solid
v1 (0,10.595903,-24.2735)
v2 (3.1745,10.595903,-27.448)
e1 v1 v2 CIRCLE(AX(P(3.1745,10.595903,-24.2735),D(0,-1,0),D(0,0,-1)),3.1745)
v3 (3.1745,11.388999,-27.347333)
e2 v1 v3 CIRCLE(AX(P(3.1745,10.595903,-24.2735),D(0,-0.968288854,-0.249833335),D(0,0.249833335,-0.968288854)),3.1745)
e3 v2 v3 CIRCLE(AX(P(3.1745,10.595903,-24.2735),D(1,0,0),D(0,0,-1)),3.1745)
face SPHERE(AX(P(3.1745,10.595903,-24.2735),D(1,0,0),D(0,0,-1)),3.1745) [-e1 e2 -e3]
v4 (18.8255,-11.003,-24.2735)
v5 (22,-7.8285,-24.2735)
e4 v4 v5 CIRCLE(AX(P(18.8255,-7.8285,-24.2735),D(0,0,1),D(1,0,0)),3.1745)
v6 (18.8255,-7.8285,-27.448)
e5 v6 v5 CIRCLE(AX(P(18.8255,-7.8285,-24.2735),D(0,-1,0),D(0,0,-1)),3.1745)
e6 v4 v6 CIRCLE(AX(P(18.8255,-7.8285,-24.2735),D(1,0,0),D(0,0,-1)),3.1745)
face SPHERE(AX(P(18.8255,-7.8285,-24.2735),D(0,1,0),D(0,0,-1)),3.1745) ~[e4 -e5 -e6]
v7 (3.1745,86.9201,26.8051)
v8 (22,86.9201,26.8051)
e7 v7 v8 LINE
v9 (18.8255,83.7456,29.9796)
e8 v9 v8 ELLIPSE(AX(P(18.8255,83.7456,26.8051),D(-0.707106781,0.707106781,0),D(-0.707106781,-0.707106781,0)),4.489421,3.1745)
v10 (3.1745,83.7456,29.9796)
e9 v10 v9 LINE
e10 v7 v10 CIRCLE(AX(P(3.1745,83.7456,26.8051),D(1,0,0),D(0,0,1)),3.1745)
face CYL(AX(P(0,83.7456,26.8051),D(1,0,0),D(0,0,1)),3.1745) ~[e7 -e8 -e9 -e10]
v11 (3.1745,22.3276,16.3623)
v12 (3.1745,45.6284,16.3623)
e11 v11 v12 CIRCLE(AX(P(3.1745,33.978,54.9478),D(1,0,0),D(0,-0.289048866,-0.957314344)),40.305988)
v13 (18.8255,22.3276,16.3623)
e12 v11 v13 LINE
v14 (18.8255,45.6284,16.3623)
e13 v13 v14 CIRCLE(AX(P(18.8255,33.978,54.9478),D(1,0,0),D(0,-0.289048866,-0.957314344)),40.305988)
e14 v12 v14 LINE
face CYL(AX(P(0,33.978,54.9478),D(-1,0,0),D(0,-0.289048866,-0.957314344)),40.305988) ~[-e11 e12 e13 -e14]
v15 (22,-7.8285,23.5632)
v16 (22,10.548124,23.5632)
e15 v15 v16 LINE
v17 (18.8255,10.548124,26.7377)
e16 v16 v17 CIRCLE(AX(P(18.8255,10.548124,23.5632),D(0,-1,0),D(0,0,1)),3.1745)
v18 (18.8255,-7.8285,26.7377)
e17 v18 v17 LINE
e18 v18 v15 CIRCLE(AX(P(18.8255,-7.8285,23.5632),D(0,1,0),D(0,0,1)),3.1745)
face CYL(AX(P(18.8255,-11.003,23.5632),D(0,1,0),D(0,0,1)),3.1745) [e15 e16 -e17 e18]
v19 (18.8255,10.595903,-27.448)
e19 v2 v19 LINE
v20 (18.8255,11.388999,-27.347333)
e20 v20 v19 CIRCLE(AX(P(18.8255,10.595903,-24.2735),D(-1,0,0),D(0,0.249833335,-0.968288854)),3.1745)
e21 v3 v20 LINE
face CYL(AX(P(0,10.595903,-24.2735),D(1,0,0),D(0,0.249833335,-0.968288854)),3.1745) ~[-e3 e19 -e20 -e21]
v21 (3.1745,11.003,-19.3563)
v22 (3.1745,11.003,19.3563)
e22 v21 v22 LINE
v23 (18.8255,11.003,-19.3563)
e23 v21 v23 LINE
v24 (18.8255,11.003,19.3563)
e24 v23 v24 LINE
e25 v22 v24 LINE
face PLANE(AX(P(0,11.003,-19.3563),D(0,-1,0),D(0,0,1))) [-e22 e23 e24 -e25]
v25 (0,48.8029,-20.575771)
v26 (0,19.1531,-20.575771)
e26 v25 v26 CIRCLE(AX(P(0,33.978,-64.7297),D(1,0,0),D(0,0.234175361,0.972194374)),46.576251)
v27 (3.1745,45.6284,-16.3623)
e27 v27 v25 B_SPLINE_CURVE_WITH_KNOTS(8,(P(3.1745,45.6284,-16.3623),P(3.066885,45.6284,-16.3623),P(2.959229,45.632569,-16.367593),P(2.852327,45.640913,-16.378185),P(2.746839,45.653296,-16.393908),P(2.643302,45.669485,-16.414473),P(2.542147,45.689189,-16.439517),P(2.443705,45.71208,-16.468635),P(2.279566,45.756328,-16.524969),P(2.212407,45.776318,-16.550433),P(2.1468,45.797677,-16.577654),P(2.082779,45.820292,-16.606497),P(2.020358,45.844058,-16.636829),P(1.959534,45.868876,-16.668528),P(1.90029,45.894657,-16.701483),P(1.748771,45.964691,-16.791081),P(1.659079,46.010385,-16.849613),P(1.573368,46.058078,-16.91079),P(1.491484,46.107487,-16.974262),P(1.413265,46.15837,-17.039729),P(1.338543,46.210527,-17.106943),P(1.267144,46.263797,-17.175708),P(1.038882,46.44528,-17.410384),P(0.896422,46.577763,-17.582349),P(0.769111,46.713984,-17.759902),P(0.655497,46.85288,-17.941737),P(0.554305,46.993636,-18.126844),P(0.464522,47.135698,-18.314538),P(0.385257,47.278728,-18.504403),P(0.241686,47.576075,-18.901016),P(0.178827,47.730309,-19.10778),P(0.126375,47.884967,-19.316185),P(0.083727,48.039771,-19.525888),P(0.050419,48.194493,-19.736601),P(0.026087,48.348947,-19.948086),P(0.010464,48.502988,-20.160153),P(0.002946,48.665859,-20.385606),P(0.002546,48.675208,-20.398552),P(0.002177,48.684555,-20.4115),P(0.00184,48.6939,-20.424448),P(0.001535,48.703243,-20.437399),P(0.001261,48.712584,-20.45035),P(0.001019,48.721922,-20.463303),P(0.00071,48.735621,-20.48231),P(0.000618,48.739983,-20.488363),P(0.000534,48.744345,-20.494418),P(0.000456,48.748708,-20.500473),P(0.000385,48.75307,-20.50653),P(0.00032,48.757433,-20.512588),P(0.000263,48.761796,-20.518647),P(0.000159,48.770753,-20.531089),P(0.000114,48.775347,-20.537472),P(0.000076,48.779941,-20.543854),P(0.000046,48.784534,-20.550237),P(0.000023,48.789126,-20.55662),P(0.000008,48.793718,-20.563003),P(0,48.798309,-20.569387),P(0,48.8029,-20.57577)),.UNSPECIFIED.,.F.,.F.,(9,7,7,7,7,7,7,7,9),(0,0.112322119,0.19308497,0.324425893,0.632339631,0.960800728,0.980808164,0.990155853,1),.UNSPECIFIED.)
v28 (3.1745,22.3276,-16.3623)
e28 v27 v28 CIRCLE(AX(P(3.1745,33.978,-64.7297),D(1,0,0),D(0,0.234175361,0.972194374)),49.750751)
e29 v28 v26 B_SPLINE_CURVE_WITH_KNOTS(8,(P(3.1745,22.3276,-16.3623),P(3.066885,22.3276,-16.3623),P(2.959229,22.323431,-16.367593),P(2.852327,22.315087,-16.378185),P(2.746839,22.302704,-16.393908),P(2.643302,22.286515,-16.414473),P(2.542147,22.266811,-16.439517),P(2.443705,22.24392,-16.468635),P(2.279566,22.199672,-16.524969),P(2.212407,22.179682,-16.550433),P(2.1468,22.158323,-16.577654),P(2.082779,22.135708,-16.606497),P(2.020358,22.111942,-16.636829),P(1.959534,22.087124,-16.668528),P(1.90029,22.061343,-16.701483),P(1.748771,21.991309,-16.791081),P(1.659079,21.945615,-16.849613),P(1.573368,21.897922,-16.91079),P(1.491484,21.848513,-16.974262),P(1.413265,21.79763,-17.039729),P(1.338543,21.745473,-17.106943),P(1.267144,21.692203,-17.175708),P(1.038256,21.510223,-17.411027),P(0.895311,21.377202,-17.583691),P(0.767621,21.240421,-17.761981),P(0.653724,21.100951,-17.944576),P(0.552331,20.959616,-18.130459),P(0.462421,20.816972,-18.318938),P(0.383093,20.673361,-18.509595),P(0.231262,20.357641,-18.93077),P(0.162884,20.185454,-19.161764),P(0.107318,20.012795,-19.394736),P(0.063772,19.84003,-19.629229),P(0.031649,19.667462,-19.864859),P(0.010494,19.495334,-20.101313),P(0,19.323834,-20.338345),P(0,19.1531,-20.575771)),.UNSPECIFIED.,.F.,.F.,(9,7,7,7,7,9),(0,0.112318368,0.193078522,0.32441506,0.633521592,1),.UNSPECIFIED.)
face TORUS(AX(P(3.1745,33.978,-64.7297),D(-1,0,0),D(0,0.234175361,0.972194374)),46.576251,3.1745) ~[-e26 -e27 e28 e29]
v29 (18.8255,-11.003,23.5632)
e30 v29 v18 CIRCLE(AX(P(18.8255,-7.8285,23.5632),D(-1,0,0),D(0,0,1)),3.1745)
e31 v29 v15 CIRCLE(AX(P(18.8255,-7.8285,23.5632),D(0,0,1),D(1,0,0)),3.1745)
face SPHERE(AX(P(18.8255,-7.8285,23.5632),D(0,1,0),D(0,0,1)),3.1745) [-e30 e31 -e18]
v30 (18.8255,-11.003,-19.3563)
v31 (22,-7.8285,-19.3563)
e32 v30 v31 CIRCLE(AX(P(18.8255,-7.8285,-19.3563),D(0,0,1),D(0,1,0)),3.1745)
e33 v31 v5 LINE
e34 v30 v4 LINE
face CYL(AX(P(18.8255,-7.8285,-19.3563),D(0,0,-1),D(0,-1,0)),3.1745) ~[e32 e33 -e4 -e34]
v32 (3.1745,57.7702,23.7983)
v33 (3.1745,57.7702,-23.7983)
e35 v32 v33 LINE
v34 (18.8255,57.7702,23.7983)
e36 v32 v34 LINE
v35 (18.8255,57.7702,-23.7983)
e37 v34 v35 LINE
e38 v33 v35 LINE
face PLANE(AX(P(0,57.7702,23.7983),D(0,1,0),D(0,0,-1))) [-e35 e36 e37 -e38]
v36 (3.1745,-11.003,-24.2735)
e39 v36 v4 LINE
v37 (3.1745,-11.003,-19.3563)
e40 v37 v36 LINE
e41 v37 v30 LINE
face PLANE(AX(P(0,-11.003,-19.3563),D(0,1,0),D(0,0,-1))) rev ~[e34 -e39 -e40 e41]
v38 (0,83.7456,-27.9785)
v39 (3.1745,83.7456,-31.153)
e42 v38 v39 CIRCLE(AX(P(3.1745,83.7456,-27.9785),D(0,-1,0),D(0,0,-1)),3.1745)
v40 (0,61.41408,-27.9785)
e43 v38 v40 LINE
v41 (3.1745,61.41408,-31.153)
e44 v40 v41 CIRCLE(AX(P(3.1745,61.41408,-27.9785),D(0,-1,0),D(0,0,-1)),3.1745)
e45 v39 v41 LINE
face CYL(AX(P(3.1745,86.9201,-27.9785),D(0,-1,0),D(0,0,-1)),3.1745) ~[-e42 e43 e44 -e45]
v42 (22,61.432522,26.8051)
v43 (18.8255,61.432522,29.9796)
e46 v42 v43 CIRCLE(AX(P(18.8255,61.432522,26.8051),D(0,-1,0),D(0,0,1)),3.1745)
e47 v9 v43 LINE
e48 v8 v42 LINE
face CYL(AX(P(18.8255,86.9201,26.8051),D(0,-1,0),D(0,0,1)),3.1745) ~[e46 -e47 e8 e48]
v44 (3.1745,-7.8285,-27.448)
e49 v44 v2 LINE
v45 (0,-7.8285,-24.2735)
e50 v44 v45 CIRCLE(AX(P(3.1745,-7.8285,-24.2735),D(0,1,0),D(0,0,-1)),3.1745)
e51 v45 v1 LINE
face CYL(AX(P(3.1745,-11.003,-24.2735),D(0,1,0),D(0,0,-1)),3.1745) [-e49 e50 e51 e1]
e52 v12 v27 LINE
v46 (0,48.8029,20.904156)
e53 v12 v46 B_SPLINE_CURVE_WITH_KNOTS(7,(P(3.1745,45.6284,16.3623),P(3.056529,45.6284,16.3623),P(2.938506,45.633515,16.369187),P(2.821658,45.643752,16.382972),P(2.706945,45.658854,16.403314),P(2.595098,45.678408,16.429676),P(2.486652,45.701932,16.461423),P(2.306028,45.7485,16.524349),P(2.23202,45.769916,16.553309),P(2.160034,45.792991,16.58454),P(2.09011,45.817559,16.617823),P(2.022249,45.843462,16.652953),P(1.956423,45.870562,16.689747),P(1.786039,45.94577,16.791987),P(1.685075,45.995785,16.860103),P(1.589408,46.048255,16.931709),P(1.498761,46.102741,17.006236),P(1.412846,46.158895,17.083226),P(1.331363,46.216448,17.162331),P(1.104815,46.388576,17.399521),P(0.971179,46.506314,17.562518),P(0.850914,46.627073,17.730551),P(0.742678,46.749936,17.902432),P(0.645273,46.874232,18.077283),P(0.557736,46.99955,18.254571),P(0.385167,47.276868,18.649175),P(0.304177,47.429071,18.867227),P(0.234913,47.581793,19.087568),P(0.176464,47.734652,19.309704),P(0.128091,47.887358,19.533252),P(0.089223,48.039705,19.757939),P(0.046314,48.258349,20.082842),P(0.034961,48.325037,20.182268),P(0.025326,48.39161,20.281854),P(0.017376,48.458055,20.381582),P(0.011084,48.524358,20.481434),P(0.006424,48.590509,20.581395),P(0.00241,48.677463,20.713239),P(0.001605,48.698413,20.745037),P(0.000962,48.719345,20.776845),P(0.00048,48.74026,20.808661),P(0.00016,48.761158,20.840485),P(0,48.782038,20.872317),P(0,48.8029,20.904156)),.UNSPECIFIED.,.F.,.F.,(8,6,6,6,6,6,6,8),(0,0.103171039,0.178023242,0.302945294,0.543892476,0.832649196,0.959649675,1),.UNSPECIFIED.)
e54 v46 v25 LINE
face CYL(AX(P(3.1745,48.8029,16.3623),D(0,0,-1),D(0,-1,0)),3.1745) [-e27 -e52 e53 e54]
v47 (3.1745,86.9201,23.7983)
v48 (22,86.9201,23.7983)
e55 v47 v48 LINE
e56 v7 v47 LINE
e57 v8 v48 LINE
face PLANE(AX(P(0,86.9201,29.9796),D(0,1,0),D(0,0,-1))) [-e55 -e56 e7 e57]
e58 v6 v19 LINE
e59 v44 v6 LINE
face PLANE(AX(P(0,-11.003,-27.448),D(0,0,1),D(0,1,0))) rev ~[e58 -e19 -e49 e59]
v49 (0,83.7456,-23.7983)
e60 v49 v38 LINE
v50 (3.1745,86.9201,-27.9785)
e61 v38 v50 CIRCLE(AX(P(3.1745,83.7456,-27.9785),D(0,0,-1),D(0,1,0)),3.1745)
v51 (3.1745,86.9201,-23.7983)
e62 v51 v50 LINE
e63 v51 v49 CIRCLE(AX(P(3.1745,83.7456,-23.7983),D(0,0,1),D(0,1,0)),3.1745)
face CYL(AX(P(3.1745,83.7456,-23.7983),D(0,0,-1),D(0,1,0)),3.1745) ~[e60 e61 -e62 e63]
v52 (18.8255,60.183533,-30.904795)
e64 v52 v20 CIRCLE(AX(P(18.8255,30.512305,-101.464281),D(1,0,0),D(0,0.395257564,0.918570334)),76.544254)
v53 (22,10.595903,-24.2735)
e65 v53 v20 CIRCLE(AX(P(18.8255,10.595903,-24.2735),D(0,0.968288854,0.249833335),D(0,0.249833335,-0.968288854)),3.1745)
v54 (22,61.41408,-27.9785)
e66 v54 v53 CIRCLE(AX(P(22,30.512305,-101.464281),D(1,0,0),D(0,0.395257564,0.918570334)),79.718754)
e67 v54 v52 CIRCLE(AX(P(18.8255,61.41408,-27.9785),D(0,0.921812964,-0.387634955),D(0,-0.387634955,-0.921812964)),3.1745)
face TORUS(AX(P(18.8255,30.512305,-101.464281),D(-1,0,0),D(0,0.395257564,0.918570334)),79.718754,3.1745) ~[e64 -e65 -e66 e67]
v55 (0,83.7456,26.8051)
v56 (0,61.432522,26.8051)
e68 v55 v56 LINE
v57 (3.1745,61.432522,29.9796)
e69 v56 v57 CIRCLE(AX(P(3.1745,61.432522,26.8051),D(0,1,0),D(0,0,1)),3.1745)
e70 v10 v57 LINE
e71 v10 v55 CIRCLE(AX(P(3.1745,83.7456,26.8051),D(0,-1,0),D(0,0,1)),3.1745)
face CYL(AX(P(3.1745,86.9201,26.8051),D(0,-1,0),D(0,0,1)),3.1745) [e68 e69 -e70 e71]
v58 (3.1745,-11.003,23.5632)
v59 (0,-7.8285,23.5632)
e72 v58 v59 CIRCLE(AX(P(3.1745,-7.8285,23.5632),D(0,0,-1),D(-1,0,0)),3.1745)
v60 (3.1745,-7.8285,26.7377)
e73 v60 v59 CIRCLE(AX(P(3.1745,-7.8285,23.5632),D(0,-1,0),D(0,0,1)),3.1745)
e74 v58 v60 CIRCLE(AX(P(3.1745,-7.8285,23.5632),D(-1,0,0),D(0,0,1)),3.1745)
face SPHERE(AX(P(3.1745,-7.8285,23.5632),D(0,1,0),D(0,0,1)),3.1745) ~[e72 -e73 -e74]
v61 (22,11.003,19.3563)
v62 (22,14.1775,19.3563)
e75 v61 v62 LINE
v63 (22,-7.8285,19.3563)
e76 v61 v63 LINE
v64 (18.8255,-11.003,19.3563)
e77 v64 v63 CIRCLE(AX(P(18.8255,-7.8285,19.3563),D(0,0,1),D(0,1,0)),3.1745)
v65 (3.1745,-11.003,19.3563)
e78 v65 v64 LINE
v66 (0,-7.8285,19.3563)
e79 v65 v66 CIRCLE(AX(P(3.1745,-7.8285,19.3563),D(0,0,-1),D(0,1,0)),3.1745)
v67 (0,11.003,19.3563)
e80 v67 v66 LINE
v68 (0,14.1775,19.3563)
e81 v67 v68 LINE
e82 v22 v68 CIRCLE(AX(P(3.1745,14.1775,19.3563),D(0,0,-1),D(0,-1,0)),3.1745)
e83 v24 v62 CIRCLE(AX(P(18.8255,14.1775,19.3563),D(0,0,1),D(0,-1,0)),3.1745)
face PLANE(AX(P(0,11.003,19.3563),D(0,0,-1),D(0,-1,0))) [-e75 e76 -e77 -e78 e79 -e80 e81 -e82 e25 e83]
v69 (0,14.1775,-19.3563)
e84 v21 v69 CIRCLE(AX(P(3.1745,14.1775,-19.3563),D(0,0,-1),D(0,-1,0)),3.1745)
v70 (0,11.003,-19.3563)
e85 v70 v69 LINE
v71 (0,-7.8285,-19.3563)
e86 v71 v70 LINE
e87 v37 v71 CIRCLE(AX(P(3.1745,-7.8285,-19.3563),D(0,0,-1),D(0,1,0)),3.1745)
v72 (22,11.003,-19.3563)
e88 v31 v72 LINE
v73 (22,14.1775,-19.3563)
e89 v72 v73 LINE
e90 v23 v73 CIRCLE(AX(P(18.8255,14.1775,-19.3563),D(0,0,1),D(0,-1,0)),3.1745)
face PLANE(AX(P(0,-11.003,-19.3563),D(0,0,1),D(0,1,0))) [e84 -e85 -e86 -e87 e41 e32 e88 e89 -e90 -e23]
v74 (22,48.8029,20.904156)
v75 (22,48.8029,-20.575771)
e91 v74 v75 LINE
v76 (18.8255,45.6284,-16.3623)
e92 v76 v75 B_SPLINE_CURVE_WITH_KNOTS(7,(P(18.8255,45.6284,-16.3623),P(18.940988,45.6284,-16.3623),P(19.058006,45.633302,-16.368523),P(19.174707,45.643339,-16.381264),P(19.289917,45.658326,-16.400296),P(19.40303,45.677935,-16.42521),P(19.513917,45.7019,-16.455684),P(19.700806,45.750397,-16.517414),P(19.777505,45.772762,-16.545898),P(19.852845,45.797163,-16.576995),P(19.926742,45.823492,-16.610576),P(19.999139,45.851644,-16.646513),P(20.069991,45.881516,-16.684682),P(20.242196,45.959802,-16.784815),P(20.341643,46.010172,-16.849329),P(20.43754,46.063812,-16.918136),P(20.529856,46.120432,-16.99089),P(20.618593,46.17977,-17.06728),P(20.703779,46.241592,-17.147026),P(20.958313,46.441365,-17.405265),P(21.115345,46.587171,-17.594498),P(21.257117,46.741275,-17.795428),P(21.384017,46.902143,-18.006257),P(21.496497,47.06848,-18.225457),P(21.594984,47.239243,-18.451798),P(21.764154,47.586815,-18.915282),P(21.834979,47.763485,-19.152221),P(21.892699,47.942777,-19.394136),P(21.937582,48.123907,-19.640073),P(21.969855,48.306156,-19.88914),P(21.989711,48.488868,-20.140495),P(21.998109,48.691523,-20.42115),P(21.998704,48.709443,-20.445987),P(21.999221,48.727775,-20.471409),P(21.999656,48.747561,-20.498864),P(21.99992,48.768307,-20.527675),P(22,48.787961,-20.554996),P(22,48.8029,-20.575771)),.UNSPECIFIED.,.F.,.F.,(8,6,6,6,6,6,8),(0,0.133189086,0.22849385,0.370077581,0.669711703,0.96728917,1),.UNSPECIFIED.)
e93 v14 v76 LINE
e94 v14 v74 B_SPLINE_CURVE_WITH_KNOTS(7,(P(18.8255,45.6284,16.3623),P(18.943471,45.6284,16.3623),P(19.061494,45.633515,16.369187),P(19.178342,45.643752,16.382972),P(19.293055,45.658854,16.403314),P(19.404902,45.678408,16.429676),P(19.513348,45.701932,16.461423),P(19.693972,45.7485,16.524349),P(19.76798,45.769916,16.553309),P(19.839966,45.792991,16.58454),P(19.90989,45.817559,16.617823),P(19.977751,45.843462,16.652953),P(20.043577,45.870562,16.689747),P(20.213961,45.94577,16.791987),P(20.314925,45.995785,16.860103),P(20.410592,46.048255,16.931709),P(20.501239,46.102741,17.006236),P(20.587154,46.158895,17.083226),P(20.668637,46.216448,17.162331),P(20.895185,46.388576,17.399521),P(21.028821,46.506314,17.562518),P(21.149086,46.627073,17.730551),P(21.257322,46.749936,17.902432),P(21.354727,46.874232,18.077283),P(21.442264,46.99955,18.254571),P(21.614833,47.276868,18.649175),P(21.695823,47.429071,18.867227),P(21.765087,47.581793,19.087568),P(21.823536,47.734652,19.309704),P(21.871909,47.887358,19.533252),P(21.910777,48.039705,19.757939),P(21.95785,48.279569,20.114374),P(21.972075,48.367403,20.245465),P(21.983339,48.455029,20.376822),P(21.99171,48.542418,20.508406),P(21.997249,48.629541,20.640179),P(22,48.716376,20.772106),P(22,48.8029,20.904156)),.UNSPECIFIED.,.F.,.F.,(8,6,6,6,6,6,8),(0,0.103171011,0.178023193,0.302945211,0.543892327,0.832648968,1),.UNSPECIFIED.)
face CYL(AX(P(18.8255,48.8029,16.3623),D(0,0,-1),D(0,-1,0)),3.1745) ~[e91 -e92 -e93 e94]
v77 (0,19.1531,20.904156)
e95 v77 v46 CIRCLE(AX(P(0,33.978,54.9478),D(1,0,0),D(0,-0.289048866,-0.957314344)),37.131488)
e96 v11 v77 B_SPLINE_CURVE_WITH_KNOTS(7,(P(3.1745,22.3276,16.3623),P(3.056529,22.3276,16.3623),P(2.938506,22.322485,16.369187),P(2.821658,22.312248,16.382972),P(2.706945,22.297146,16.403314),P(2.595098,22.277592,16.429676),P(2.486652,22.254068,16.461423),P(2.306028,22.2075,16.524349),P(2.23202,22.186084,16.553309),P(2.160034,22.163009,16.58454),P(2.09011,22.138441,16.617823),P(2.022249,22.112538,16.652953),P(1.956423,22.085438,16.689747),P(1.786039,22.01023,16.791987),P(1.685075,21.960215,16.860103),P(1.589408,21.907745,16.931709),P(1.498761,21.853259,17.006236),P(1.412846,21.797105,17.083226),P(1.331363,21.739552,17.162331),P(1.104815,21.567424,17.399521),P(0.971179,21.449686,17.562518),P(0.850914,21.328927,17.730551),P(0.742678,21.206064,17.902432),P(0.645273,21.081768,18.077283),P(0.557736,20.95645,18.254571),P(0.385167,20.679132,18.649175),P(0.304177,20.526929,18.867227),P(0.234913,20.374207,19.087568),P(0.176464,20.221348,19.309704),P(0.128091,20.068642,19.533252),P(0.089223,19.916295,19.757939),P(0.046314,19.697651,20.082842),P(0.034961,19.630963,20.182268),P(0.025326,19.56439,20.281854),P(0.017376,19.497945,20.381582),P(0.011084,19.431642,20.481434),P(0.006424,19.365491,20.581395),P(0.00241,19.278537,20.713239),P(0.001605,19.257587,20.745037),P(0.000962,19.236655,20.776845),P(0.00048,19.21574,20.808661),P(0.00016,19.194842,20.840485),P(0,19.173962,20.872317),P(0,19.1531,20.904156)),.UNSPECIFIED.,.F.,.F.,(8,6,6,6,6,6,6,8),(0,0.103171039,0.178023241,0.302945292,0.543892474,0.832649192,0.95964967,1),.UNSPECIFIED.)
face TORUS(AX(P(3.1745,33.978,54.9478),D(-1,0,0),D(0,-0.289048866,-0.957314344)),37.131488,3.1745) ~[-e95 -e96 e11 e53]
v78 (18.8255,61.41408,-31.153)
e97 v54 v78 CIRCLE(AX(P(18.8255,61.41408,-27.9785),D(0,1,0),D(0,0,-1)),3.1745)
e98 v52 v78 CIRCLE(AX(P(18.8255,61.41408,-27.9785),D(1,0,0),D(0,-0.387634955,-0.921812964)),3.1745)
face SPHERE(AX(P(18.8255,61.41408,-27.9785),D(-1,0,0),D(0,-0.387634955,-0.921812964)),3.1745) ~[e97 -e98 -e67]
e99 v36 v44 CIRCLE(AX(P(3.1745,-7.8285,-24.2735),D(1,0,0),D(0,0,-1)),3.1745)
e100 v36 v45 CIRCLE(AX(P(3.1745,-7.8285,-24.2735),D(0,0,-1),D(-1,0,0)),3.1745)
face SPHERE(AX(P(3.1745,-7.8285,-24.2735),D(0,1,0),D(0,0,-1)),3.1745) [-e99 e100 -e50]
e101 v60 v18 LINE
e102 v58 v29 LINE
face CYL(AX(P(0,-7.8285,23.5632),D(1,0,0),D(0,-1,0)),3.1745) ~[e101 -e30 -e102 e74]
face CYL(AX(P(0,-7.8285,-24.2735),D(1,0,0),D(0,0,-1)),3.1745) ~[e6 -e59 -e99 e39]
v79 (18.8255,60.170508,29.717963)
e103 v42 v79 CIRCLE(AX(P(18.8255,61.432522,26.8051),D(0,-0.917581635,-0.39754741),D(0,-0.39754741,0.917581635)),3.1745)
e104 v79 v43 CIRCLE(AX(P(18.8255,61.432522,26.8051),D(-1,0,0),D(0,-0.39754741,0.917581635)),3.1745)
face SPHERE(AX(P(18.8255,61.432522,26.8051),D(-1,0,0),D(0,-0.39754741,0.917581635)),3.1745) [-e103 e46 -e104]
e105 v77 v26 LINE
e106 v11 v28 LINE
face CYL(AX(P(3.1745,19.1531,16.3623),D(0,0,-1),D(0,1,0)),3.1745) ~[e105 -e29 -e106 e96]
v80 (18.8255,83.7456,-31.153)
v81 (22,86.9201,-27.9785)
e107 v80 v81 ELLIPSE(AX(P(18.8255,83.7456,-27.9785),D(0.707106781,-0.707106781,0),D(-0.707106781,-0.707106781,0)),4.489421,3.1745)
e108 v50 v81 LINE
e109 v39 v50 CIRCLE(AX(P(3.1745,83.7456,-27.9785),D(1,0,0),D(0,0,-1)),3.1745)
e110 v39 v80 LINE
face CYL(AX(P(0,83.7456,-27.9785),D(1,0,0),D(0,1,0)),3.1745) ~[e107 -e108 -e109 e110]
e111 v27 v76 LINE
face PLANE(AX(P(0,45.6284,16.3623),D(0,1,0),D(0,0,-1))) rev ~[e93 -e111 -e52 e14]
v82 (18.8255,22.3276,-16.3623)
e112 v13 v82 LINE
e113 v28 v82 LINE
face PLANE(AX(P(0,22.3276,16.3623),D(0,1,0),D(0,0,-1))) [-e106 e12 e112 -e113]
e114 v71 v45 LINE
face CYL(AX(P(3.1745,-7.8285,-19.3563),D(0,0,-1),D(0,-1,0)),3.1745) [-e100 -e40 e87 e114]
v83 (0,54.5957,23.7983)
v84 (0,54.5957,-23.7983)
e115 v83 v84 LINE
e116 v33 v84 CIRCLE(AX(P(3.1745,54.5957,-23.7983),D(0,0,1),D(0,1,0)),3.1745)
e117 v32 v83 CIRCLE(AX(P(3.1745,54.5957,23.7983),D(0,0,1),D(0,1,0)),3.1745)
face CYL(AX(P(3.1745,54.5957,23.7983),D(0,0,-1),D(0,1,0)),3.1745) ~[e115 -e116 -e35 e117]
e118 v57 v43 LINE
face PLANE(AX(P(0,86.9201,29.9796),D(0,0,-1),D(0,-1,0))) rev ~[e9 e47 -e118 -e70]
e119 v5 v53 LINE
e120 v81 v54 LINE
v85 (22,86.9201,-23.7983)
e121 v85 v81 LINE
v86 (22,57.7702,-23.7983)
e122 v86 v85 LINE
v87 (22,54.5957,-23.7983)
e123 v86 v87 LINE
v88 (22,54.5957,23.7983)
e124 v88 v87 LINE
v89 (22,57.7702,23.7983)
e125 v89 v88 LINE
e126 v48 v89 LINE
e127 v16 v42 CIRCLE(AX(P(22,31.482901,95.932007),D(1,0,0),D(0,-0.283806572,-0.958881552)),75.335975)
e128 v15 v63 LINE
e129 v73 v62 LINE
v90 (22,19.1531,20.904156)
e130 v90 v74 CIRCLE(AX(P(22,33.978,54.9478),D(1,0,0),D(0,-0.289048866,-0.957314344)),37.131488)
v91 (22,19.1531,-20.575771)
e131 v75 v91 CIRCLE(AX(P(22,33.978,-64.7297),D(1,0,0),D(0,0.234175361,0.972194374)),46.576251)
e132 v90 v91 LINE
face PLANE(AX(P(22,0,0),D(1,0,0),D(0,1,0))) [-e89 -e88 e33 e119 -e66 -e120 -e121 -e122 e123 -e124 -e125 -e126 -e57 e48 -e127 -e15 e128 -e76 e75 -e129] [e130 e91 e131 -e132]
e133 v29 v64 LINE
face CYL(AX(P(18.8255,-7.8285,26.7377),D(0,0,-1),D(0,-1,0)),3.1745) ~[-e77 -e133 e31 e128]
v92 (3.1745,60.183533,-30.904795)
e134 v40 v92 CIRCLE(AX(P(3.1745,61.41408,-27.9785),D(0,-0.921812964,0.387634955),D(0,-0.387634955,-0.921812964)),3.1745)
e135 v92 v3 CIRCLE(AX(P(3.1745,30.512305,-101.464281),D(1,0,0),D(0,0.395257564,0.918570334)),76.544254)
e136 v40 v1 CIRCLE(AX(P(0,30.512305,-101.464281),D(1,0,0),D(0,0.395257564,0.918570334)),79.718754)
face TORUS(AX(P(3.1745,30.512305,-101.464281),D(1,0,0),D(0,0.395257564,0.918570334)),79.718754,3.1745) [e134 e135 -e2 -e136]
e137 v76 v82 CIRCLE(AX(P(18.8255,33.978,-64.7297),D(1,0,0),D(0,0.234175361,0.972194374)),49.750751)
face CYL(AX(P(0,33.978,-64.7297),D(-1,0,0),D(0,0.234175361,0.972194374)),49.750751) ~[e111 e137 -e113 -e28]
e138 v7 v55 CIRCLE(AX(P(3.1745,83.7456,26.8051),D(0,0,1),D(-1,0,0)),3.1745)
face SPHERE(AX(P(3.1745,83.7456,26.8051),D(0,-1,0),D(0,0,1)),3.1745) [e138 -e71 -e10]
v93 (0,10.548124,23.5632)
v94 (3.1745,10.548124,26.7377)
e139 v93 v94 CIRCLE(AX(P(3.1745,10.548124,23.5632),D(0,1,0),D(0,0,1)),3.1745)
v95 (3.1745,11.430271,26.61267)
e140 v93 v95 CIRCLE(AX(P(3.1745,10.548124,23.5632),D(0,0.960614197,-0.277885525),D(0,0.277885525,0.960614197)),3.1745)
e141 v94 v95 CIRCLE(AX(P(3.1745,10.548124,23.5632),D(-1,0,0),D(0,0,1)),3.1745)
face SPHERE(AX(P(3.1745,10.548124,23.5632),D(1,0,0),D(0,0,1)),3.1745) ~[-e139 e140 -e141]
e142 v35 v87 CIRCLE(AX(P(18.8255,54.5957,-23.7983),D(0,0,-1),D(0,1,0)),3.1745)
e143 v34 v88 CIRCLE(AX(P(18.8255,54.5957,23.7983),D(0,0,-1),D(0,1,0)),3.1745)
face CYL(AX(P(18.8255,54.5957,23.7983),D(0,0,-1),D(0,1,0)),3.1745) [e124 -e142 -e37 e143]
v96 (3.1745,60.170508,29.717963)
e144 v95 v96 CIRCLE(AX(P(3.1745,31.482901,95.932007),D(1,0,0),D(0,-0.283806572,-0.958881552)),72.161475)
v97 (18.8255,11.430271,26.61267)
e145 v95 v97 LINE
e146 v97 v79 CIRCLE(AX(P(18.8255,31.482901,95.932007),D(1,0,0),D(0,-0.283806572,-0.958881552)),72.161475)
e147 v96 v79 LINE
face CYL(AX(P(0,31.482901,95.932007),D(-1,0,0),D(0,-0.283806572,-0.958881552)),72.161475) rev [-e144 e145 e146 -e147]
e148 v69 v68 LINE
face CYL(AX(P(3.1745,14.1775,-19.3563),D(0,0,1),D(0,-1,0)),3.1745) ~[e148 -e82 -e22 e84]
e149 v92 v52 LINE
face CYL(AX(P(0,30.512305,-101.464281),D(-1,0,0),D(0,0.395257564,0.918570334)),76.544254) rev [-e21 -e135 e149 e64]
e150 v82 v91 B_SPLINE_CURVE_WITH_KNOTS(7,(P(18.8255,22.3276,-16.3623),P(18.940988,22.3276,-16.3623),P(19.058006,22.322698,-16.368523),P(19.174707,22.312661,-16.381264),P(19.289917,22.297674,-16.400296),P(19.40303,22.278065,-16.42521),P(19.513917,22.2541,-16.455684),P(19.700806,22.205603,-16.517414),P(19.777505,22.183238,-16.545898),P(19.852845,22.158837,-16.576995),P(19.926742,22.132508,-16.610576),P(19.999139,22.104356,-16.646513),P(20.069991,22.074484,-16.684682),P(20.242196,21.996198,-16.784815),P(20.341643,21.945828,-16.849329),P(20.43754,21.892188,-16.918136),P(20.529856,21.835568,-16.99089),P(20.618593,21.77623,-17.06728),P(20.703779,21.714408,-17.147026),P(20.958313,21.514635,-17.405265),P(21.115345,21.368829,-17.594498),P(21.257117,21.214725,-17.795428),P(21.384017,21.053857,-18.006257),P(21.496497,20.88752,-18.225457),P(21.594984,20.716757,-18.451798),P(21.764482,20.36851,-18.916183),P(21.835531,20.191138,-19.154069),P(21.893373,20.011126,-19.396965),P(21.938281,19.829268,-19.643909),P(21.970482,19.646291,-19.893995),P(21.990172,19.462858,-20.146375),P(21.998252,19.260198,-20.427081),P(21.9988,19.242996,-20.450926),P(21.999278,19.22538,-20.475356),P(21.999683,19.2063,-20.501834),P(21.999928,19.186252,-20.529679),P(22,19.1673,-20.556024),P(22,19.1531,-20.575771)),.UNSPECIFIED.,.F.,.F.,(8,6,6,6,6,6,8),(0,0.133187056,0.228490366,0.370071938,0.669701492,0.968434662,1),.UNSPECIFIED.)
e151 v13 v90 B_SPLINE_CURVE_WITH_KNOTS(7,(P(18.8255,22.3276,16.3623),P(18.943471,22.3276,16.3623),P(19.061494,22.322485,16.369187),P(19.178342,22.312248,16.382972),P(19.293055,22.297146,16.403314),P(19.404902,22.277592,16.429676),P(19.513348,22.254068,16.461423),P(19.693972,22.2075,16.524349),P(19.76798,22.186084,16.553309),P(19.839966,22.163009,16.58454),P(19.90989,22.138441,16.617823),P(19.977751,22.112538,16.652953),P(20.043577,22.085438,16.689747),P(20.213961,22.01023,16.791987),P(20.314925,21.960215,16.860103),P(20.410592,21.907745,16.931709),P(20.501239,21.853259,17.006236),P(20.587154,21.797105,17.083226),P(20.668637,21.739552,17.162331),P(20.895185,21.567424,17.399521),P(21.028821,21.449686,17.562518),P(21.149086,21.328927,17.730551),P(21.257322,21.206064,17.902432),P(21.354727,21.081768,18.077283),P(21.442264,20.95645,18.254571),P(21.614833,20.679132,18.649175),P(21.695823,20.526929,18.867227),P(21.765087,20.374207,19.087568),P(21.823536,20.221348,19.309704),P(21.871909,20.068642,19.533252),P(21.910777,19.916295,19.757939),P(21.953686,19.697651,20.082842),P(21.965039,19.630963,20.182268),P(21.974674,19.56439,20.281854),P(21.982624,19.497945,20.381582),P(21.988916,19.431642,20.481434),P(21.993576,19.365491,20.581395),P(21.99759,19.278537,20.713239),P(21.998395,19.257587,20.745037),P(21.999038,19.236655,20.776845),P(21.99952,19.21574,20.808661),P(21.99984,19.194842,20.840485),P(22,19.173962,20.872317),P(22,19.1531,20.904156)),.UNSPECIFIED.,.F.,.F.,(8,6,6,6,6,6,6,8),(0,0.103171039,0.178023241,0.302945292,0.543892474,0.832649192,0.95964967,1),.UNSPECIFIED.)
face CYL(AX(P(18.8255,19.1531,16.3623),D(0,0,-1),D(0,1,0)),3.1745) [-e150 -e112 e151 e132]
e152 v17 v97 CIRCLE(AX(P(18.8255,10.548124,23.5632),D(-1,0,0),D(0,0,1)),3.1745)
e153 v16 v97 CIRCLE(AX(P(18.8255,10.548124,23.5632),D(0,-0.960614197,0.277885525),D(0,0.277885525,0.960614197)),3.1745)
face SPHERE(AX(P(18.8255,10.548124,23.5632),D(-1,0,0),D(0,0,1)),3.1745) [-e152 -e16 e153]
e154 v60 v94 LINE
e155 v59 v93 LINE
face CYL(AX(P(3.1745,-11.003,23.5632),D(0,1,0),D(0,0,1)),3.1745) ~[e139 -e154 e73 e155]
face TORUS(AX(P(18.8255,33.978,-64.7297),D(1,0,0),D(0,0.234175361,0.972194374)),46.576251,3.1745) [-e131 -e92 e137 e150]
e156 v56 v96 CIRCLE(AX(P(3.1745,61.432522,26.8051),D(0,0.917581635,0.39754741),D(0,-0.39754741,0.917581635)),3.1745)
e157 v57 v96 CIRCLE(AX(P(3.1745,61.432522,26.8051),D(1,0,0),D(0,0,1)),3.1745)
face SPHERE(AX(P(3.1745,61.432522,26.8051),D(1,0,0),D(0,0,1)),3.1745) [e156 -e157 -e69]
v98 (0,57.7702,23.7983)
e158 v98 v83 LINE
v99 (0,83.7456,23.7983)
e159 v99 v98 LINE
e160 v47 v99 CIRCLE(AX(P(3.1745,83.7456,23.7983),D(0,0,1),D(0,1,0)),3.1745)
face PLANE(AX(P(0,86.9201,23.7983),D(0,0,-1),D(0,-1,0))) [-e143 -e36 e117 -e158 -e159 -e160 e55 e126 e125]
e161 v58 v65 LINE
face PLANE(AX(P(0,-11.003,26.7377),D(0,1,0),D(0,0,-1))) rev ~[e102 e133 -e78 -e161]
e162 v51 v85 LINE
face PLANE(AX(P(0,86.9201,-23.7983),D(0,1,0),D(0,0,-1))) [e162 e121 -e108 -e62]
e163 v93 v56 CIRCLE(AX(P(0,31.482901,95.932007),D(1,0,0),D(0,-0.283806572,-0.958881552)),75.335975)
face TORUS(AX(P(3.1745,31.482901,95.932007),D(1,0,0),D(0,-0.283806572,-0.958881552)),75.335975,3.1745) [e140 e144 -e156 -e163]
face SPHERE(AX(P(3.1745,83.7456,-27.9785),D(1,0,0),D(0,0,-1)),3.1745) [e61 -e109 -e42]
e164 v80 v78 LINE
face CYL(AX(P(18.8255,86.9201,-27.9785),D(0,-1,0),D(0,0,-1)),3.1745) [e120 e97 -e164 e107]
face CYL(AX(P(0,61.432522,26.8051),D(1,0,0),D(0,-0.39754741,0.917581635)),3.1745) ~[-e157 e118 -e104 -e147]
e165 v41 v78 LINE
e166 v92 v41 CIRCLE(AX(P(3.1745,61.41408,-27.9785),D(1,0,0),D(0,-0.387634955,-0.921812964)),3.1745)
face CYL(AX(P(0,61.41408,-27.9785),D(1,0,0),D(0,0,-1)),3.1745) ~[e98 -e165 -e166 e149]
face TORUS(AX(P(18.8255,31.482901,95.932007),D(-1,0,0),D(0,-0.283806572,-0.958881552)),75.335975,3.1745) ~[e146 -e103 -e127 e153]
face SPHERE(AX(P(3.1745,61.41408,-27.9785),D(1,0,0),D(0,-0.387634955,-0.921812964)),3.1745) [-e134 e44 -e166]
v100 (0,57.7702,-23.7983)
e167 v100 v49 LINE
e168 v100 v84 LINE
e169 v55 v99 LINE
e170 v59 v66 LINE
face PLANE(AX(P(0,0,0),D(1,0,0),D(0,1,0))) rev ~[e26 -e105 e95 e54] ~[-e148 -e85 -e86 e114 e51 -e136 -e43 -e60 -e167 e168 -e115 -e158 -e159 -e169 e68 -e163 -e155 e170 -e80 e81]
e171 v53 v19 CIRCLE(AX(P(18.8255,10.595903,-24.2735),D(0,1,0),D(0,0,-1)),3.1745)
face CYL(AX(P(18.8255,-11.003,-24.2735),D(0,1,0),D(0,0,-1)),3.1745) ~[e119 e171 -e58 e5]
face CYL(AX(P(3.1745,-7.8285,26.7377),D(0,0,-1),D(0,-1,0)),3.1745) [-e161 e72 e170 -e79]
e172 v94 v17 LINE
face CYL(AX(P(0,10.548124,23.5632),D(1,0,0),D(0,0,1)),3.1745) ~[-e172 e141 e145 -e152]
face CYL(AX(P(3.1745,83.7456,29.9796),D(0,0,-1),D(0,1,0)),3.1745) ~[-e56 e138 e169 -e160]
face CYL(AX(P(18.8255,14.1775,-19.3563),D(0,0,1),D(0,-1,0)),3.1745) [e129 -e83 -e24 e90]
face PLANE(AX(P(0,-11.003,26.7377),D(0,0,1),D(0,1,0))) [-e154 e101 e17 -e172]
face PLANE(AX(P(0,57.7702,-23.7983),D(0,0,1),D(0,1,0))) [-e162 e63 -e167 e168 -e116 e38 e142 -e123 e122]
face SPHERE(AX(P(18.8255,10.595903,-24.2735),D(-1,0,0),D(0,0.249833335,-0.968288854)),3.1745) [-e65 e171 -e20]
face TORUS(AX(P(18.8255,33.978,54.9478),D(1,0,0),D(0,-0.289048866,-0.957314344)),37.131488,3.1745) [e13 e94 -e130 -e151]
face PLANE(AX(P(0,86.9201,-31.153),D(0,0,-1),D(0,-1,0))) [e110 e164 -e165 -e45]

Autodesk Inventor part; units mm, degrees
ref_plane "YZ Plane" through (0, 0, 0) normal (1, 0, 0) x (0, 1, 0)
ref_plane "XZ Plane" through (0, 0, 0) normal (0, 1, 0) x (-1, 0, 0)
ref_plane "XY Plane" through (0, 0, 0) normal (0, 0, 1) x (1, 0, 0)
sketch "Sketch2" plane through (0, 0, 0) normal (1, 0, 0) x (0, 1, 0)
  line L0 (-11.003, -19.3563) -> (11.003, -19.3563)
  line L1 (11.003, -19.3563) -> (11.003, 19.3563)
  line L2 (11.003, 19.3563) -> (-11.003, 19.3563)
  line L3 (57.7702, -23.7983) -> (86.9201, -23.7983)
  line L4 (86.9201, 23.7983) -> (57.7702, 23.7983)
  line L5 (57.7702, 23.7983) -> (57.7702, -23.7983)
  line L6 (57.7702, -23.7983) -> (60.4906, -19.3563) construction
  line L7 (60.4906, 19.3563) -> (57.7702, 23.7983) construction
  line L8 (86.9201, 29.9796) -> (60.767, 29.9796)
  line L9 (86.9201, -31.153) -> (60.767, -31.153)
  line L10 (-11.003, -27.448) -> (11.003, -27.448)
  line L11 (-11.003, 26.7377) -> (11.003, 26.7377)
  arc A0 (11.003, 26.7377) -> (60.767, 29.9796) centre (31.4829, 95.932) ccw
  arc A1 (60.767, -31.153) -> (11.003, -27.448) centre (30.5123, -101.4643) ccw
  line L12 (45.6284, 16.3623) -> (45.6284, -16.3623)
  line L13 (22.3276, 16.3623) -> (22.3276, -16.3623)
  arc A2 (22.3276, 16.3623) -> (45.6284, 16.3623) centre (33.978, 54.9478) ccw
  arc A3 (45.6284, -16.3623) -> (22.3276, -16.3623) centre (33.978, -64.7297) ccw
  line L14 (-11.003, 26.7377) -> (-11.003, 19.3563)
  line L15 (-11.003, -19.3563) -> (-11.003, -27.448)
  line L16 (86.9201, 29.9796) -> (86.9201, 23.7983)
  line L17 (86.9201, -23.7983) -> (86.9201, -31.153)
  point P0 (0, 0)
extrude "Extrusion2" add sketch "Sketch2" along normal blind 22
fillet "Fillet2" radius 3.175 38 edges at (22, 73.8435, 29.9796) (11, 60.767, 29.9796) (0, 73.8435, 29.9796) (0, 36.1739, 23.9231) (22, 36.1739, 23.9231) (22, 57.7702, 0) (22, 45.6284, 0) (22, 22.3276, 0) (22, 11.003, 0) (22, 33.978, -14.9789) (22, 33.978, 14.6418) (22, 36.1954, -25.1313) (22, 73.8435, -31.153) (11, 86.9201, -31.153) (11, 86.9201, 29.9796) (11, 11.003, 26.7377) (22, 0, 26.7377) (0, 0, 26.7377) (22, 0, -27.448) (0, 73.8435, -31.153) (11, 60.767, -31.153) (0, 36.1954, -25.1313) (11, 11.003, -27.448) (0, 22.3276, 0) (0, 45.6284, 0) (0, 33.978, 14.6418) (0, 33.978, -14.9789) (0, 0, -27.448) (11, -11.003, -27.448) (11, -11.003, 26.7377) (0, 11.003, 0) (0, 57.7702, 0) (0, 86.9201, -27.4756) (0, 86.9201, 26.889) (0, -11.003, -23.4021) (0, -11.003, 23.047) (22, -11.003, 23.047) (22, -11.003, -23.4021)
properties part number "arm_mid_link2"
